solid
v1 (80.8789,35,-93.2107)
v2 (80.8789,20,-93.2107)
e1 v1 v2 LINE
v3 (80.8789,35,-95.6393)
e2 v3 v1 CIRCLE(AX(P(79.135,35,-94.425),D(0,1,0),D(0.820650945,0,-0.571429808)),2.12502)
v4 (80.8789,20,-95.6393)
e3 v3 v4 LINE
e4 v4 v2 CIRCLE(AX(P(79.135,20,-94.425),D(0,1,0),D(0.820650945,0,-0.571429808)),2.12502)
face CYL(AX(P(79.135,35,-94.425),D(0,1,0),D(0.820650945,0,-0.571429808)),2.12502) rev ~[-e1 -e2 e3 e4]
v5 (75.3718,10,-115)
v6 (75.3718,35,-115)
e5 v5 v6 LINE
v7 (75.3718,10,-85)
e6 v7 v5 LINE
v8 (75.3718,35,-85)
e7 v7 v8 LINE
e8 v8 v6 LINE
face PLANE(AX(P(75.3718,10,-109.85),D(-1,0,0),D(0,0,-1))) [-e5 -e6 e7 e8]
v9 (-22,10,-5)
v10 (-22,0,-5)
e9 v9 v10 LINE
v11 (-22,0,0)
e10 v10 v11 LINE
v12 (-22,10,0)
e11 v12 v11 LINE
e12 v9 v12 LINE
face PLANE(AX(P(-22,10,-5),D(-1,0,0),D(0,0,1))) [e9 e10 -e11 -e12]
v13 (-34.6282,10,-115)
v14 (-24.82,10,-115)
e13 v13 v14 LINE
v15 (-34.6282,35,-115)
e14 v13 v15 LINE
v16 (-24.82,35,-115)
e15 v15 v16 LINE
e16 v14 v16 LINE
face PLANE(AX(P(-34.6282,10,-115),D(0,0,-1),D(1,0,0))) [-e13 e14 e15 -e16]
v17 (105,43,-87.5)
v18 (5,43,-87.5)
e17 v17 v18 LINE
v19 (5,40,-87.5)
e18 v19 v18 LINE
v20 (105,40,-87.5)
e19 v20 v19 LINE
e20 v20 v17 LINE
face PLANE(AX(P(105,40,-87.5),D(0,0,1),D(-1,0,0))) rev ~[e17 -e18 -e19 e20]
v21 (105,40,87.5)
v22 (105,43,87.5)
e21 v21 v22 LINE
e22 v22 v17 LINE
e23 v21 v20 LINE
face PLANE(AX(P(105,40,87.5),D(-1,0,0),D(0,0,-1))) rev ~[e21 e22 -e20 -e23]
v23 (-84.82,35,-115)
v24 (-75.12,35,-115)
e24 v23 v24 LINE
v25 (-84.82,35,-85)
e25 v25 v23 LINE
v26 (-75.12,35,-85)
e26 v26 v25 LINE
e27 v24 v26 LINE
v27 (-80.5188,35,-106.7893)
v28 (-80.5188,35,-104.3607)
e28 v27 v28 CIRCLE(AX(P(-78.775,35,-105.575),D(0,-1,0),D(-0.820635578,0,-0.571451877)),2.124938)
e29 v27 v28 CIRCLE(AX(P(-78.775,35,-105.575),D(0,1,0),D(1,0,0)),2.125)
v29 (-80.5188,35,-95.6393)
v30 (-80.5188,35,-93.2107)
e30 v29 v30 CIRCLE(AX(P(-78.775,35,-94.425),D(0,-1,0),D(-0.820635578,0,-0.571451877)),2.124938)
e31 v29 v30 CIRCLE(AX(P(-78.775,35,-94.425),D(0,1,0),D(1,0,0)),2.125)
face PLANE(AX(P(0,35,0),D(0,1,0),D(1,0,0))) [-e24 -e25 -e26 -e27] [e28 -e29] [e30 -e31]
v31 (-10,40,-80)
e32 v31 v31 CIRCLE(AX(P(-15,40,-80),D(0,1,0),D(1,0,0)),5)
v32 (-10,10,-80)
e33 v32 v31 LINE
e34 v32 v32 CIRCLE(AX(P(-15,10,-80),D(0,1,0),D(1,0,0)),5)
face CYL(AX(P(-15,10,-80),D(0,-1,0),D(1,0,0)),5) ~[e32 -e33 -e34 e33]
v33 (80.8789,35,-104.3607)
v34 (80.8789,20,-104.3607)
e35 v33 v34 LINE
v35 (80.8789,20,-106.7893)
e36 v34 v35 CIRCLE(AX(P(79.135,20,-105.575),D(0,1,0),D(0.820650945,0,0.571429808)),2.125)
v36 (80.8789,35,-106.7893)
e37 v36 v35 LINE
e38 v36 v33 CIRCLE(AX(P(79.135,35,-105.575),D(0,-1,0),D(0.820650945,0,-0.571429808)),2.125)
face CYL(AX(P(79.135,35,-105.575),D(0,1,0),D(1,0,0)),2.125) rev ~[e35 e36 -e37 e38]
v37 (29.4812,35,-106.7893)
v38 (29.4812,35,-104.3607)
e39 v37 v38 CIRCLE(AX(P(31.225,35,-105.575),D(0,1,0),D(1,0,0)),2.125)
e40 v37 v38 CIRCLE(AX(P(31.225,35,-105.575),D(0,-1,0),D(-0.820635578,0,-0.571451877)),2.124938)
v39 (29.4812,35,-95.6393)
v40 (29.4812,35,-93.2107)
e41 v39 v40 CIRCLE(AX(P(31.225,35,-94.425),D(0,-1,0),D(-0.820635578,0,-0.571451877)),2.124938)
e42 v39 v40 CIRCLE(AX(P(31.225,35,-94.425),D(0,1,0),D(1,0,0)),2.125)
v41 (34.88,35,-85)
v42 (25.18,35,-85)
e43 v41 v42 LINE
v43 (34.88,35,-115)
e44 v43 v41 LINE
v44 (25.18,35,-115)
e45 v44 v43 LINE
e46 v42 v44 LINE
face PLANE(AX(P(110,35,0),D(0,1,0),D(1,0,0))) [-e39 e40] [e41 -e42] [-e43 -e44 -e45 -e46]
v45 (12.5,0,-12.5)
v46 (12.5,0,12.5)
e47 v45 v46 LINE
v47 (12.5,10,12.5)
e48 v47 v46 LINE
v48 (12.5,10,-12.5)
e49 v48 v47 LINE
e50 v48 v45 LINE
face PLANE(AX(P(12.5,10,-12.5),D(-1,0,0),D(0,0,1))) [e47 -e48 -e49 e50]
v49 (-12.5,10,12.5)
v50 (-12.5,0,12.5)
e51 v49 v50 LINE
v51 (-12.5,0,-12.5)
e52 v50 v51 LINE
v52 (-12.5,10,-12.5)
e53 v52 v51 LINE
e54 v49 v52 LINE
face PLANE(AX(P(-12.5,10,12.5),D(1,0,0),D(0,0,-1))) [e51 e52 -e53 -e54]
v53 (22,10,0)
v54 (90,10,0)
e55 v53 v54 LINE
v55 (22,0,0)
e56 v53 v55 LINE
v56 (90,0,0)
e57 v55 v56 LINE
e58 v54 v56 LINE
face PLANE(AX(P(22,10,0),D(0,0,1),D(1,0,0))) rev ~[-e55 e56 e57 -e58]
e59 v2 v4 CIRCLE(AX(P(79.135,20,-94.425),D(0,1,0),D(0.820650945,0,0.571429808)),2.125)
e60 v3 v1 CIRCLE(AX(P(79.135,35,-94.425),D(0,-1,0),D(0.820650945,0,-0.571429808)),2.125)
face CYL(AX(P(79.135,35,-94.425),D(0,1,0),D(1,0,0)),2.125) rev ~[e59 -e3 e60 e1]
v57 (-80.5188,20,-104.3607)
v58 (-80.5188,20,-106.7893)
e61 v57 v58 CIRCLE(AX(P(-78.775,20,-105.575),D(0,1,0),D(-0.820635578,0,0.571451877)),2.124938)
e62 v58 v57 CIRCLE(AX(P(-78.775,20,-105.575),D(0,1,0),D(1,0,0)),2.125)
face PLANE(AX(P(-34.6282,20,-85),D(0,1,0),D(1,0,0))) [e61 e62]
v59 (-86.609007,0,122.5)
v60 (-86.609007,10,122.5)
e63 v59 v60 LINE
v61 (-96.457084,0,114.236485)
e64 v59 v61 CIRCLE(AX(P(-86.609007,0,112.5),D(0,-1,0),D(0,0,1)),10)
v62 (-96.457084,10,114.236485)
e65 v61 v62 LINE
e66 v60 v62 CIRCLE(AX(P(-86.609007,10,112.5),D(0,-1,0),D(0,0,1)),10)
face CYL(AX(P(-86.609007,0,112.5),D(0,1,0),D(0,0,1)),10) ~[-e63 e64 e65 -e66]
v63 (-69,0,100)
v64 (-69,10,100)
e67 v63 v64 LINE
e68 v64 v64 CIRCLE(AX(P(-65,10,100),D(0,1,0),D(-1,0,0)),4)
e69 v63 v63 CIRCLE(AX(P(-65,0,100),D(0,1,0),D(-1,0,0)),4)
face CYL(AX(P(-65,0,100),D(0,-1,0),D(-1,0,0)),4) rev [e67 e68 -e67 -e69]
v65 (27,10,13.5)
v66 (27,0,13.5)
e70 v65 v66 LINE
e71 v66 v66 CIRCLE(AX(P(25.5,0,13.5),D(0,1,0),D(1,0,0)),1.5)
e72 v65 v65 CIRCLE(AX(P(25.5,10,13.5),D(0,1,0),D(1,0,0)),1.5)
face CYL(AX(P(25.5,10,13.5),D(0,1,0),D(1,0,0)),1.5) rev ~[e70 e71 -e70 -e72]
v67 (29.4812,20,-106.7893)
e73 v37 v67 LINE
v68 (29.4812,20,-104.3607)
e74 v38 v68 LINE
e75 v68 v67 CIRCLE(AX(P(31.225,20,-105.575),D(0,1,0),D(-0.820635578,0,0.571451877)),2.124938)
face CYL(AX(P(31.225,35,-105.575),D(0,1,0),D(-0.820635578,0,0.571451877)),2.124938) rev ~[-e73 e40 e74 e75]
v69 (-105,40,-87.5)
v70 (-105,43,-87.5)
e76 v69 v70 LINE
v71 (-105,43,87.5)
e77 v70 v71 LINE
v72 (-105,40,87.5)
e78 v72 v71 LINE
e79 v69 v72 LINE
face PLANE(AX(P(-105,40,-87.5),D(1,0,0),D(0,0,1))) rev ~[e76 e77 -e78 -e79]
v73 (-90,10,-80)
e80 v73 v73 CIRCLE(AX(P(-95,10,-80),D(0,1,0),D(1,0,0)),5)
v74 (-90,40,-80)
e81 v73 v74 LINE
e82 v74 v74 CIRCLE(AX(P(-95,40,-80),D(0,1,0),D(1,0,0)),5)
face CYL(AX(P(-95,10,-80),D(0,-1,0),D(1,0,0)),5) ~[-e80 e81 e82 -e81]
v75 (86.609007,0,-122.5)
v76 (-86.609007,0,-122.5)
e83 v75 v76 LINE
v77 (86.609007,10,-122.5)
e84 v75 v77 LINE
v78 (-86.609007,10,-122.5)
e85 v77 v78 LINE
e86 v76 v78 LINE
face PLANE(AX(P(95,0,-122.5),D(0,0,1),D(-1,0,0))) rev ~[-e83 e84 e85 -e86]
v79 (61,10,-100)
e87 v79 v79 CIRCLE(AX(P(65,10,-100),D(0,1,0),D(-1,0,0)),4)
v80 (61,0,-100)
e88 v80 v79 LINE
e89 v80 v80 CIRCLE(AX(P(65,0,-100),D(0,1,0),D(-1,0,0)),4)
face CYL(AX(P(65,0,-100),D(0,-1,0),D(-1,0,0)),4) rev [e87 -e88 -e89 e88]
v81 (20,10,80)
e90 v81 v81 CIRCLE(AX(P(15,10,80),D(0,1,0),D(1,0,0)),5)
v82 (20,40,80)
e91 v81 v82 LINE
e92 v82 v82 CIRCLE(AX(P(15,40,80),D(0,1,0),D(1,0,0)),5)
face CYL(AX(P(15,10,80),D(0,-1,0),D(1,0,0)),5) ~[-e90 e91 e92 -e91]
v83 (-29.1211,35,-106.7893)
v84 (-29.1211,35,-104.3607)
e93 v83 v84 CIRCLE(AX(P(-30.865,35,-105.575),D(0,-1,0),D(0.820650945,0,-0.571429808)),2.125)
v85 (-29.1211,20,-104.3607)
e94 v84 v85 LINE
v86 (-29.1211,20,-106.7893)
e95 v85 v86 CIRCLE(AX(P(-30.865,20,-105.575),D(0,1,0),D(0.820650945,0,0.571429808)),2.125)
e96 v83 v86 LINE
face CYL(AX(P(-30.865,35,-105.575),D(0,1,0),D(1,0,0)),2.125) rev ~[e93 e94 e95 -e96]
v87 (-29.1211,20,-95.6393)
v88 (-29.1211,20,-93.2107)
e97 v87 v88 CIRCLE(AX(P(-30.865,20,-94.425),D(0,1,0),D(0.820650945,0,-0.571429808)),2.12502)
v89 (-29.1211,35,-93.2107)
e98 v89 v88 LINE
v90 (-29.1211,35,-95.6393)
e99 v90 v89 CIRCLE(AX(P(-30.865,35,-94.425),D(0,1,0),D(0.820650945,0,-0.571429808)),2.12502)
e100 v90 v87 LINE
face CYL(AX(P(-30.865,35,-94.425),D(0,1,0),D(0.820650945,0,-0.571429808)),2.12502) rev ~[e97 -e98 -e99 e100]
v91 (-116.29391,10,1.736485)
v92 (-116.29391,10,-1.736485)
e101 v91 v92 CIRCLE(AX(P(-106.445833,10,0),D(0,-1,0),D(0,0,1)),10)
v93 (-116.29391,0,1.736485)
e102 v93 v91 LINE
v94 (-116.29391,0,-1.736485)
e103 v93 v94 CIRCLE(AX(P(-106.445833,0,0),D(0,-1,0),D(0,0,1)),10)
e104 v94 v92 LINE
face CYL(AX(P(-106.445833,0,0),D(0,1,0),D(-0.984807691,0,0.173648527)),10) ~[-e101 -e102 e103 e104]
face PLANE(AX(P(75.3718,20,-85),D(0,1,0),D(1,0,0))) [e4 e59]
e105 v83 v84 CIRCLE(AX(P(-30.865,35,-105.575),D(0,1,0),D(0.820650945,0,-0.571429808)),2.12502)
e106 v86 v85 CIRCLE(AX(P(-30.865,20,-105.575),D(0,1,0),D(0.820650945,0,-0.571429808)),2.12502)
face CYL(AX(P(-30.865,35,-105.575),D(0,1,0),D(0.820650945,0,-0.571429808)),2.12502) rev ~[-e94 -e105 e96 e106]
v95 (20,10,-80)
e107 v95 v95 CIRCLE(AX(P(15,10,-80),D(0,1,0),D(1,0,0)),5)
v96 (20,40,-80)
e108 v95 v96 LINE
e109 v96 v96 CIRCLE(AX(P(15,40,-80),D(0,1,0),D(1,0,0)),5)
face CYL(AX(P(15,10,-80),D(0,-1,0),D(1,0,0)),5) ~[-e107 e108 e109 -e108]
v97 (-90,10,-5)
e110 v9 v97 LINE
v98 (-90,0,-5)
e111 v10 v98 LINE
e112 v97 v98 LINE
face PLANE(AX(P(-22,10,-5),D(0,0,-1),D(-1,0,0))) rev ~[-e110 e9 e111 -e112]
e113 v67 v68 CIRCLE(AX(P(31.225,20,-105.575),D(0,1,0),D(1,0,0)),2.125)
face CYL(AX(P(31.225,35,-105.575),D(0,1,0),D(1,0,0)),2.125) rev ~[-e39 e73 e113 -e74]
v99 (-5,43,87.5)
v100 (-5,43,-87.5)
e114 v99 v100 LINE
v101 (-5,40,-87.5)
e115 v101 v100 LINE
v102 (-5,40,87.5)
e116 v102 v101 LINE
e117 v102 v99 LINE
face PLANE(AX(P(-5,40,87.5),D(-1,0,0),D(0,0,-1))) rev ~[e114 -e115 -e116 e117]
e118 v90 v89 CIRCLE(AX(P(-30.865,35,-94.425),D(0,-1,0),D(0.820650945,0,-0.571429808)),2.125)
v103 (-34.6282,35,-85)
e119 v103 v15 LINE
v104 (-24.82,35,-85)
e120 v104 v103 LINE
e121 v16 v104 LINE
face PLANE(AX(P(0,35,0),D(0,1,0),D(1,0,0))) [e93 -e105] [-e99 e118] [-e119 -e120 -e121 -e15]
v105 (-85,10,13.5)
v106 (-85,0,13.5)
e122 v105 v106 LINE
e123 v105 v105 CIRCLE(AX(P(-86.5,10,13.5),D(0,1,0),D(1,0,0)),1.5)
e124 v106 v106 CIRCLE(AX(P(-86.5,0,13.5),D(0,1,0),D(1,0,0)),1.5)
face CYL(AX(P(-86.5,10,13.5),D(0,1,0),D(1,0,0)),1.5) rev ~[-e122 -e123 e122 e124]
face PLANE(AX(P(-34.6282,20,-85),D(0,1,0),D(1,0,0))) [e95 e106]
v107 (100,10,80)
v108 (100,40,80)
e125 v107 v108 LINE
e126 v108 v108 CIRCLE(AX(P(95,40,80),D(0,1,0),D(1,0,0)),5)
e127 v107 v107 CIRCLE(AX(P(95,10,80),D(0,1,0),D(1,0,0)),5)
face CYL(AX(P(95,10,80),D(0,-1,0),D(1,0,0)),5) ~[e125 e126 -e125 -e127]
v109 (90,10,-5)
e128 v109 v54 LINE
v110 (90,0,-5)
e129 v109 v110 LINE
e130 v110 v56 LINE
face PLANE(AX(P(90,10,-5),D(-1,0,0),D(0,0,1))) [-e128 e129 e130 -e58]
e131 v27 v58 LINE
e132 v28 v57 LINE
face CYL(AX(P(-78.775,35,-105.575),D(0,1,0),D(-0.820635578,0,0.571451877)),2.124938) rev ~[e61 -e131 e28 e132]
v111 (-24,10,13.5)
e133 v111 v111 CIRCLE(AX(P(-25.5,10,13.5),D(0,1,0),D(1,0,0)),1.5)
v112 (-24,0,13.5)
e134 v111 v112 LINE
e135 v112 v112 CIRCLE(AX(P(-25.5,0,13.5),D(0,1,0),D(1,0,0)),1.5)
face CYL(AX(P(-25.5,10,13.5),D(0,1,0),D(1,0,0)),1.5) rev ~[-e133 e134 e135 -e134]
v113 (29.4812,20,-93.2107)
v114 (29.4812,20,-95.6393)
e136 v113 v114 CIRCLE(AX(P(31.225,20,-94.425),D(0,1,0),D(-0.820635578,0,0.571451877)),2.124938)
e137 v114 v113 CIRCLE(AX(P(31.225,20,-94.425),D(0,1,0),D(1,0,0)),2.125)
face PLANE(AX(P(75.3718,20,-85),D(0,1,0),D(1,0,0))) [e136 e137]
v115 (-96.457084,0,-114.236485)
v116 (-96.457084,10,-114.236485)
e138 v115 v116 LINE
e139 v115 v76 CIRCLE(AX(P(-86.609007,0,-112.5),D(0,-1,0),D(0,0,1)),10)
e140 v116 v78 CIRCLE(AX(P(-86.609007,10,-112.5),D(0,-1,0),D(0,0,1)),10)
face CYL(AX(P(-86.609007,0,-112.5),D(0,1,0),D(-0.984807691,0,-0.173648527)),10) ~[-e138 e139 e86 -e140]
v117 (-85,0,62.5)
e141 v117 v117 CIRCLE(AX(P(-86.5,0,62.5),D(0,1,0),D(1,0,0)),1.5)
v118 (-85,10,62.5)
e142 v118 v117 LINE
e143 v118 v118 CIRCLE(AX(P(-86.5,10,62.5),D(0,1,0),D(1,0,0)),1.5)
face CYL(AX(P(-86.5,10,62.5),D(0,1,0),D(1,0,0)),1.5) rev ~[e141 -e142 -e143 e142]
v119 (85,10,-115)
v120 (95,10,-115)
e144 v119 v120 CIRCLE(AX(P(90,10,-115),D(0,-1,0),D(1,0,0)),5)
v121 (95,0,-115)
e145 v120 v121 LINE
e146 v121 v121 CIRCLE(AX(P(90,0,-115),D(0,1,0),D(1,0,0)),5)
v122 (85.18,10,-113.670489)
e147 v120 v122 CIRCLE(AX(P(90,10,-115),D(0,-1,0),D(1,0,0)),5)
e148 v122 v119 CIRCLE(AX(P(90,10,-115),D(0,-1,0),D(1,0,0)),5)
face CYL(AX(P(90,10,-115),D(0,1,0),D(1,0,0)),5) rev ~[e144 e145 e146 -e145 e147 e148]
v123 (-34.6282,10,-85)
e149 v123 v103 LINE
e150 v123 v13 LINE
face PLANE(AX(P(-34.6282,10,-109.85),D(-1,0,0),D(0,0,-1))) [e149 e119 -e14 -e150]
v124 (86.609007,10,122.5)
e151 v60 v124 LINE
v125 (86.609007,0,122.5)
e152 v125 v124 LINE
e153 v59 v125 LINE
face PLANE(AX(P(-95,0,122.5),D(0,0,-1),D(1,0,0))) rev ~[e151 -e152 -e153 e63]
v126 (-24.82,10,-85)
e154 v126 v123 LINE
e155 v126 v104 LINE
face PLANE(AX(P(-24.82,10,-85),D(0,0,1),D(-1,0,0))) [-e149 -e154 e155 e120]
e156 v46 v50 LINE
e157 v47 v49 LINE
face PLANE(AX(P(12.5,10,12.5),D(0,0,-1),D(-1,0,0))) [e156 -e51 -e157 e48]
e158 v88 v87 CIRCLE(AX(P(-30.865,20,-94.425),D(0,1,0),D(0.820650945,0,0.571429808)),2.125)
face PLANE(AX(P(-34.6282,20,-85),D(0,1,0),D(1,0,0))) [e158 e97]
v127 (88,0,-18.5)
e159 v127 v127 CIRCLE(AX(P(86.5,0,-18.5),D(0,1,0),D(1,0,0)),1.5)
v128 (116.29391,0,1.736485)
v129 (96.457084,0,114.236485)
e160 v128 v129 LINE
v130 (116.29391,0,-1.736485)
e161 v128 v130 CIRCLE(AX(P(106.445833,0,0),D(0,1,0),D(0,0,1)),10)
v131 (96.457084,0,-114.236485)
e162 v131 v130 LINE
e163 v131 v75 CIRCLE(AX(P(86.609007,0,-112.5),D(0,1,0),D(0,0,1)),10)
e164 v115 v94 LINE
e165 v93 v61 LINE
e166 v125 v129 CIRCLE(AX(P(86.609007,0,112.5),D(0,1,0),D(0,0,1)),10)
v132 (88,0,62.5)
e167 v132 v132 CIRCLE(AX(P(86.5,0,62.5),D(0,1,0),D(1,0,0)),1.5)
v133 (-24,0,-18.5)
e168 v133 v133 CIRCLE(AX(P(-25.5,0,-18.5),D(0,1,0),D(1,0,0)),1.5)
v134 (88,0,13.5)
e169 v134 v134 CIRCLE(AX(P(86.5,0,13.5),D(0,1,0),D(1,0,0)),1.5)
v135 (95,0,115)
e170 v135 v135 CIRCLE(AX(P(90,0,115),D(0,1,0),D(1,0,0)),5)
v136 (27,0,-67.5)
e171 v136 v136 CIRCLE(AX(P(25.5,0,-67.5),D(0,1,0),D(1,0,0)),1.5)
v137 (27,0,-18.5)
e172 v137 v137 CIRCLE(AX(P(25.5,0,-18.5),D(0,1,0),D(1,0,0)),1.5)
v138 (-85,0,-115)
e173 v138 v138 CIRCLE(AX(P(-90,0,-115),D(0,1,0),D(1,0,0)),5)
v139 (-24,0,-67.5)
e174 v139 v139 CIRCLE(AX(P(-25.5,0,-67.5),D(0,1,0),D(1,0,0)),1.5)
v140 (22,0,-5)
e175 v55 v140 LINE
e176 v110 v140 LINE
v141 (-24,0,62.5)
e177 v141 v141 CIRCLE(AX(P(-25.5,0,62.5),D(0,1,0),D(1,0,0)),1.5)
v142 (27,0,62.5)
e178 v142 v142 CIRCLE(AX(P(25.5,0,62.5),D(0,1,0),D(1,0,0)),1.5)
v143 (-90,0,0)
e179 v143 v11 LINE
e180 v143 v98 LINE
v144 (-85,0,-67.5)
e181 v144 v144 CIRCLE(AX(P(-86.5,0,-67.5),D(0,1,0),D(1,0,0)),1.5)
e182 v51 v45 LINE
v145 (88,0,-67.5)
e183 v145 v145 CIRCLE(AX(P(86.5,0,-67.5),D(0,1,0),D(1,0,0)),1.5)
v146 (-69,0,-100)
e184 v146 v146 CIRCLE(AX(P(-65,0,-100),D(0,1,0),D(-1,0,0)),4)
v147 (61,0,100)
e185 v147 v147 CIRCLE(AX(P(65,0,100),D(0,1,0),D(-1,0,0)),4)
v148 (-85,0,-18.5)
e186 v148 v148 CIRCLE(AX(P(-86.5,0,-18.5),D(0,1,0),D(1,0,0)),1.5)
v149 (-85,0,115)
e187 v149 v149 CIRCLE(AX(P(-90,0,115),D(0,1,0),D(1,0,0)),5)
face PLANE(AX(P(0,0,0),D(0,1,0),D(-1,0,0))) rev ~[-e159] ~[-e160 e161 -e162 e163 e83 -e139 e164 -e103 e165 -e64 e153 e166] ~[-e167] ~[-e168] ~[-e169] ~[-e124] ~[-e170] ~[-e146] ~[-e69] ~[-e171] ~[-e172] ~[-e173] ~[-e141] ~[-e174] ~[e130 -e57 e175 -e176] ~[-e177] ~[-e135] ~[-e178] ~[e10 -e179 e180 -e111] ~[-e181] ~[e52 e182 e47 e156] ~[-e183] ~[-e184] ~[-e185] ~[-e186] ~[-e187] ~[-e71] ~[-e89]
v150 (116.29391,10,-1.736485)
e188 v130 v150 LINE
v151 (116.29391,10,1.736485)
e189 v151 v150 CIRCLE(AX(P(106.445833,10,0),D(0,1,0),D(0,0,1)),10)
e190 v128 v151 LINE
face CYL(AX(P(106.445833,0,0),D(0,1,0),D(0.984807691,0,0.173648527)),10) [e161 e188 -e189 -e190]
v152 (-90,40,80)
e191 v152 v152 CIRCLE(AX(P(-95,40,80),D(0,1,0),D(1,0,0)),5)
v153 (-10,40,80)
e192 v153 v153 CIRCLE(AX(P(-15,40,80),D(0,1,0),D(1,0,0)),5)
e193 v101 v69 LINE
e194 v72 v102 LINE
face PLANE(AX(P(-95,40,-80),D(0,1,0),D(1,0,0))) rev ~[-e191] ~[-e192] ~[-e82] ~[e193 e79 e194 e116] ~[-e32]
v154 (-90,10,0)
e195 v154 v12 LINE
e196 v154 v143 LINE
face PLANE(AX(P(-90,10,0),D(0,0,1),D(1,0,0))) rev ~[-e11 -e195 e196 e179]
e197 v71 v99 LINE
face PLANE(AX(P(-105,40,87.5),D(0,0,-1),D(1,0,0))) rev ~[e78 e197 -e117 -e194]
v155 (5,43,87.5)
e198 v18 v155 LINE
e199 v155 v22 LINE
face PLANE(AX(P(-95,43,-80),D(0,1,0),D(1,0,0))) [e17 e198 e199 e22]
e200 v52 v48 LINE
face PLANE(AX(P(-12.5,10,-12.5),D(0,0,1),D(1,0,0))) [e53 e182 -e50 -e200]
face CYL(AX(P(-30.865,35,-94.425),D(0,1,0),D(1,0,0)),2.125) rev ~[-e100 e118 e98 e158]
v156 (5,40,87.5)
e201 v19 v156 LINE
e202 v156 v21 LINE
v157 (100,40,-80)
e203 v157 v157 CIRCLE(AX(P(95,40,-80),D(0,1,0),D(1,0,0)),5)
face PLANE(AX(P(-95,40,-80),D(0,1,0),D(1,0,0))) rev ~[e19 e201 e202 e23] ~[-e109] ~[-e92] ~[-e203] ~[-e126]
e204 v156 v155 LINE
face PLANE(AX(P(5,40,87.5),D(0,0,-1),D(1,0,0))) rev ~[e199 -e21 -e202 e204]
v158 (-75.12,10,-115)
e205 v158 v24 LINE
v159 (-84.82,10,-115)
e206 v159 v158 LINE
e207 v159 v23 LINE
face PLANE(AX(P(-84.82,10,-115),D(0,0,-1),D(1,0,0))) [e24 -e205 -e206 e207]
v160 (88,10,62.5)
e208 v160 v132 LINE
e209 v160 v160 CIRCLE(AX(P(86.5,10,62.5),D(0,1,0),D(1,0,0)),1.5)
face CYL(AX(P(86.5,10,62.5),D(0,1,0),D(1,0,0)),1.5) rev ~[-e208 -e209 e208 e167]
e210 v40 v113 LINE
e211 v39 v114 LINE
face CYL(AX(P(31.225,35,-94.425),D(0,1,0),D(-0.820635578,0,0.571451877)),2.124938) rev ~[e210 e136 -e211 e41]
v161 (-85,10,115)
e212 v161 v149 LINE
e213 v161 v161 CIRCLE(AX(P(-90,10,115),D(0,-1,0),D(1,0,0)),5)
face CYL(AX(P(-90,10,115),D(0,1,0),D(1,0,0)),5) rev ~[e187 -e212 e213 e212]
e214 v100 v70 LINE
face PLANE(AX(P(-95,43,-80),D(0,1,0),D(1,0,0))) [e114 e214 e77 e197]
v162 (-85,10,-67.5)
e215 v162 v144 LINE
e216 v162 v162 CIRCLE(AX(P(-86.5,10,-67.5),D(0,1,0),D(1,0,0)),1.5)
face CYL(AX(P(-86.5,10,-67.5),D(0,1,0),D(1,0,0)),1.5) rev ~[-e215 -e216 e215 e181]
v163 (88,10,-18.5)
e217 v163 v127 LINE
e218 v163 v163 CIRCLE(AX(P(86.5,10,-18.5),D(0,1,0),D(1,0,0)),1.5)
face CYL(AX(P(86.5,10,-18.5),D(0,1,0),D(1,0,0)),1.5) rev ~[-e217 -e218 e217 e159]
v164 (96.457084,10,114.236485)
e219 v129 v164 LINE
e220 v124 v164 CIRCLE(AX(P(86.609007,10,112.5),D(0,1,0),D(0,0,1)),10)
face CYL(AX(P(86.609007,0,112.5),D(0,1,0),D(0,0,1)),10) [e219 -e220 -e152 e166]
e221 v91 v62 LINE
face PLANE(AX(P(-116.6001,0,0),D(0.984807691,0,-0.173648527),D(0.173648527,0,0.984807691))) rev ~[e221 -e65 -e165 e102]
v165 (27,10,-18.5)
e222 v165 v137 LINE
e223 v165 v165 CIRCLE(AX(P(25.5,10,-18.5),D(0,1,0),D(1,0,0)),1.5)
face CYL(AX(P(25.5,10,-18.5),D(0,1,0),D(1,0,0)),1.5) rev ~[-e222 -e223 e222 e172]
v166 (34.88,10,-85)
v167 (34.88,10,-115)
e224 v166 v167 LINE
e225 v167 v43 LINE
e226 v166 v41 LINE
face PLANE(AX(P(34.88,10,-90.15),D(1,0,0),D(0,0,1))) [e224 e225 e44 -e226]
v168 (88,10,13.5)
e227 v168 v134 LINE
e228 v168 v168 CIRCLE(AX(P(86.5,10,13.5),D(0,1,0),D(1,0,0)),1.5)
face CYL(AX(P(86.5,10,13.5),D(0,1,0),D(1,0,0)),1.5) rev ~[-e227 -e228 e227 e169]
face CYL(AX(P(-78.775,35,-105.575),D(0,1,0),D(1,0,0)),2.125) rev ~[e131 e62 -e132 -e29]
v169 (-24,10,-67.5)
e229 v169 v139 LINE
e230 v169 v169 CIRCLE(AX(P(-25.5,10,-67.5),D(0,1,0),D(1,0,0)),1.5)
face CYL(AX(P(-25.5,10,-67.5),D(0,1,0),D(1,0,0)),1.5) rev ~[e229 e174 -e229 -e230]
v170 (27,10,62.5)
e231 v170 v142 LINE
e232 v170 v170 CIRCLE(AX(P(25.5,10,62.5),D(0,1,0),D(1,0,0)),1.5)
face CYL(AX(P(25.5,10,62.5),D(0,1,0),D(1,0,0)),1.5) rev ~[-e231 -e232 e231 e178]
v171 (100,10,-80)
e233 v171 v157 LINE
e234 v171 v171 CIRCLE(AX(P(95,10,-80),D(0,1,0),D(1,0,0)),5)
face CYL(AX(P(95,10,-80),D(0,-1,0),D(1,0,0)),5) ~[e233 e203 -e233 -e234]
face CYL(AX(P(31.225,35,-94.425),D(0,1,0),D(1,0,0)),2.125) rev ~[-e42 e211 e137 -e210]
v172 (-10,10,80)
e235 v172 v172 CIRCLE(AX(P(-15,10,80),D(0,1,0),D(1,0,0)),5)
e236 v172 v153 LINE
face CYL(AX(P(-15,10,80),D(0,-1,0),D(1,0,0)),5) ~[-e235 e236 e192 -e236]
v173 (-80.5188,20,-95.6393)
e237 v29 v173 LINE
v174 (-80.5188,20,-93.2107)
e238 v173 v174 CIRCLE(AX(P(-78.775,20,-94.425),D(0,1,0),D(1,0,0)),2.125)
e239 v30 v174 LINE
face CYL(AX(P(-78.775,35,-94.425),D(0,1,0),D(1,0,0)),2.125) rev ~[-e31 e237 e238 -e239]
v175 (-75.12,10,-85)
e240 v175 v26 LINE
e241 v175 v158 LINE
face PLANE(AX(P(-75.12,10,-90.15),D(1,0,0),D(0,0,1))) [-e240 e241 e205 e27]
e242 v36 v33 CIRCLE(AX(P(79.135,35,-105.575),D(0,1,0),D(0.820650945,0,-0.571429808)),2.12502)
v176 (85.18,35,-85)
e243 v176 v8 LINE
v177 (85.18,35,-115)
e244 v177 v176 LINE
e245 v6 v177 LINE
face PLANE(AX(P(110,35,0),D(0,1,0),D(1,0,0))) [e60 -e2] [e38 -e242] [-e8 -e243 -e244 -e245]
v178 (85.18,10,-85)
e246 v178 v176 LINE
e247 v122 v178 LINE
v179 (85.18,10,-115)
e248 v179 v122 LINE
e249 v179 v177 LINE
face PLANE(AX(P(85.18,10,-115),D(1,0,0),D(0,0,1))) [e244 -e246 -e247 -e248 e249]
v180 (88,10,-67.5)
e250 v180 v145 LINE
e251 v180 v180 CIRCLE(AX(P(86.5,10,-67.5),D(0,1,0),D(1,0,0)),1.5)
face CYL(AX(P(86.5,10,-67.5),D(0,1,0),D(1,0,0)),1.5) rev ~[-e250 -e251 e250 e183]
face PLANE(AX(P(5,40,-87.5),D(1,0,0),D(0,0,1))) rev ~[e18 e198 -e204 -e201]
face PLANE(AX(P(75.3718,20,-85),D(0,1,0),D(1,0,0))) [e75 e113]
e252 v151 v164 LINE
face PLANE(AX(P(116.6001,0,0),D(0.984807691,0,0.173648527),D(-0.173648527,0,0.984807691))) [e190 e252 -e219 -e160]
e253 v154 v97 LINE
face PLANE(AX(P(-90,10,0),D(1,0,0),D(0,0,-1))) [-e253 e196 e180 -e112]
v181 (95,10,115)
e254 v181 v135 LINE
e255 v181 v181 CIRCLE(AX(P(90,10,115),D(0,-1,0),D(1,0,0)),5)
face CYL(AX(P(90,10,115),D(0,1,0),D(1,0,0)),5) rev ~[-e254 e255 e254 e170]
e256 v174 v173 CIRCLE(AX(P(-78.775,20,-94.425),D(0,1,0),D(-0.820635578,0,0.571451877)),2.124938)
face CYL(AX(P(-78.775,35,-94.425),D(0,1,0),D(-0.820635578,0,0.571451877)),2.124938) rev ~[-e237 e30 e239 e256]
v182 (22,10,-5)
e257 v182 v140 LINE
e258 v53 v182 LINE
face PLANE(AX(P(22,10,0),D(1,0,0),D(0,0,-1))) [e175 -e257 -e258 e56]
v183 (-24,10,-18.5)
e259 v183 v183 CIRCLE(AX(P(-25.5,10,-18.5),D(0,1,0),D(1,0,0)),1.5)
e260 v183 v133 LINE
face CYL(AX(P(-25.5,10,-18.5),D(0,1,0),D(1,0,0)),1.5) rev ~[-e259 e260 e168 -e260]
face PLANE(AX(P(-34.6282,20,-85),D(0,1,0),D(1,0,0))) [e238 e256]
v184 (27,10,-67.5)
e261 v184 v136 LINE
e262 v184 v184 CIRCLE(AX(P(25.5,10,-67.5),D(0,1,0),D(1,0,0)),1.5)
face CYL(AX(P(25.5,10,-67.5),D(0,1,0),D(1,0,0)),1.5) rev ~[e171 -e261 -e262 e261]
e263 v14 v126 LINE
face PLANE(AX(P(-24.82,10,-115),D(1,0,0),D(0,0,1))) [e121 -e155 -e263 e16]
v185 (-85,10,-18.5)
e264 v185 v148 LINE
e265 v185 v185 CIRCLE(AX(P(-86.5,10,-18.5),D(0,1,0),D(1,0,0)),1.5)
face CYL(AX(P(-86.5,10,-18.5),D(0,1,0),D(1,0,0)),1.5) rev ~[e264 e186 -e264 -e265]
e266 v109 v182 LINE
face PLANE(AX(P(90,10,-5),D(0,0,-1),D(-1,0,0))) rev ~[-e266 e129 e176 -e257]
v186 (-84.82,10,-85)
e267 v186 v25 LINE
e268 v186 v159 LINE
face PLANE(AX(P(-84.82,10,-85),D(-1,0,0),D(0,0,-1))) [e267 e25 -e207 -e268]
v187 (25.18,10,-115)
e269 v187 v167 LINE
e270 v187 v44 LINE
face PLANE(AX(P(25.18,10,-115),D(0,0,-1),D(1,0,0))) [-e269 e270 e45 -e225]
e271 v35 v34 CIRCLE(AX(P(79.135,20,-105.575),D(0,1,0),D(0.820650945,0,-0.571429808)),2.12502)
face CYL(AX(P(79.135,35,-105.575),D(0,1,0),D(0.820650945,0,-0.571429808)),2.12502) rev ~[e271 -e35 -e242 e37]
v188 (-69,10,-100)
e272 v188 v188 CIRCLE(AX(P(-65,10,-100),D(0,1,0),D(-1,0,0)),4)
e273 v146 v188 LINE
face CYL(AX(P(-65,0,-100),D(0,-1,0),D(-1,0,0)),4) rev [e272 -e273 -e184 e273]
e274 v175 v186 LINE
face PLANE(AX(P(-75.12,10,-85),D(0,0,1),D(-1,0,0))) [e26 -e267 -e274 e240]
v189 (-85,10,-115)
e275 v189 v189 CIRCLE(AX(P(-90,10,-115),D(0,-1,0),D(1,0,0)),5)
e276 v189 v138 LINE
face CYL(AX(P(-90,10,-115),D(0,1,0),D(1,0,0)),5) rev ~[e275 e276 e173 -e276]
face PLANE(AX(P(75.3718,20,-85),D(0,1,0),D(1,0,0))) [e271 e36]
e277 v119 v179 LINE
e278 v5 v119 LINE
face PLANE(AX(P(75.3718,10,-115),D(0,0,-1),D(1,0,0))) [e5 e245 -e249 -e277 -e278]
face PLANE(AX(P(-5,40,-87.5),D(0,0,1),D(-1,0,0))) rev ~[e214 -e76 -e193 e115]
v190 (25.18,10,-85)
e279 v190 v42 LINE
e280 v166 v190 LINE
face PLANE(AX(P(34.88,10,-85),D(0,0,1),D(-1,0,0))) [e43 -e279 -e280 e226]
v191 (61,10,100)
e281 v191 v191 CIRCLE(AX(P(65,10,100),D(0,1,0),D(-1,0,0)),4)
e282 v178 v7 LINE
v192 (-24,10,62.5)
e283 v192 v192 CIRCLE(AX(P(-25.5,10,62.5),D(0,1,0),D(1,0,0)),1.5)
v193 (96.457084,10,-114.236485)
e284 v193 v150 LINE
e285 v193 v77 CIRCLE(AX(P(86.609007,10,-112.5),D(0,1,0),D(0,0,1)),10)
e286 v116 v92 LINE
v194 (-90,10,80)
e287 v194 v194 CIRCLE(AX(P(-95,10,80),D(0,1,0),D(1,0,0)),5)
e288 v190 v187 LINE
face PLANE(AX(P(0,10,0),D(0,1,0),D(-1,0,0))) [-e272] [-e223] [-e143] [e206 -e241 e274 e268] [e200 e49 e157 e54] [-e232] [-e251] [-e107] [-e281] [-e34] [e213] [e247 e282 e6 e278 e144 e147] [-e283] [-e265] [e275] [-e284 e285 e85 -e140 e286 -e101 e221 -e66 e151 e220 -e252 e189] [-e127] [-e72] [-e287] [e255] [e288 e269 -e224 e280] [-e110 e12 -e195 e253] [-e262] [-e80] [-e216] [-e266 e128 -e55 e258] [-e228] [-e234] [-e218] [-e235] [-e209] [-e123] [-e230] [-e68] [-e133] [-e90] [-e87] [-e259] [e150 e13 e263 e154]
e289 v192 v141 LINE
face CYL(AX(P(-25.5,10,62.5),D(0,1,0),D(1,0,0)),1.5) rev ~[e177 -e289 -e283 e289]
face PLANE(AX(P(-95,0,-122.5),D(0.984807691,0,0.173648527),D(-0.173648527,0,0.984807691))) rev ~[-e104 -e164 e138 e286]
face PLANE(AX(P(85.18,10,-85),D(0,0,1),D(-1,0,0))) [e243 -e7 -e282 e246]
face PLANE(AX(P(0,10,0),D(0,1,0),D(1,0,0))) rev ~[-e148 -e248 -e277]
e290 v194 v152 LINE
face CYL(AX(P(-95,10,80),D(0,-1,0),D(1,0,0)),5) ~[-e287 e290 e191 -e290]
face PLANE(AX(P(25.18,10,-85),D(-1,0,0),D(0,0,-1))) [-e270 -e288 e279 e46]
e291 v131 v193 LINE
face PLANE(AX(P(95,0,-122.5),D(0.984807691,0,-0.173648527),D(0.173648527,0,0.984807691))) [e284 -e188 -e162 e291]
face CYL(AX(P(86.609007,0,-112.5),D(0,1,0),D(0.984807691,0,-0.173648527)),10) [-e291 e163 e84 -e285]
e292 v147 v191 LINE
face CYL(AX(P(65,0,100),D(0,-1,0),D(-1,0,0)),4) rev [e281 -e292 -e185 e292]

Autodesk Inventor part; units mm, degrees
ref_plane "YZ Plane" through (0, 0, 0) normal (1, 0, 0) x (0, 1, 0)
sketch "Sketch1" plane through (0, 0, 0) normal (0, 1, 0) x (-1, 0, 0)
  line L0 (-65, 100) -> (65, 100) construction
  line L1 (65, 100) -> (65, -100) construction
  line L2 (65, -100) -> (-65, -100) construction
  line L3 (-65, -100) -> (-65, 100) construction
  line L4 (-65, 100) -> (65, -100) construction
  line L5 (65, 100) -> (-65, -100) construction
  line L6 (45, 110) -> (85, 110) construction
  line L7 (85, 110) -> (85, 90)
  line L8 (85, 90) -> (45, 90) construction
  line L9 (45, 90) -> (45, 110) construction
  line L10 (45, 110) -> (85, 90) construction
  line L11 (85, 110) -> (45, 90) construction
  line L12 (85, -90) -> (85, -110) construction
  line L13 (45, -90) -> (85, -90) construction
  line L14 (45, -110) -> (45, -90) construction
  line L15 (85, -110) -> (45, -110) construction
  line L16 (-45, 110) -> (-45, 90) construction
  line L17 (-85, 110) -> (-45, 110) construction
  line L18 (-85, 90) -> (-85, 110) construction
  line L19 (-45, 90) -> (-85, 90) construction
  line L20 (-45, -90) -> (-45, -110) construction
  line L21 (-85, -90) -> (-45, -90) construction
  line L22 (-85, -110) -> (-85, -90) construction
  line L23 (-45, -110) -> (-85, -110) construction
  line L24 (-95, -122.5) -> (95, -122.5)
  line L25 (95, -122.5) -> (95, 122.5)
  line L26 (95, 122.5) -> (-95, 122.5)
  line L27 (-95, 122.5) -> (-95, -122.5)
  line L28 (-95, -122.5) -> (95, 122.5) construction
  line L29 (95, -122.5) -> (-95, 122.5) construction
  line L30 (95, 122.5) -> (95, 72.5)
  line L31 (95, 72.5) -> (45, 72.5)
  line L32 (45, 72.5) -> (45, -72.5)
  line L33 (45, -72.5) -> (95, -72.5)
  line L34 (95, -72.5) -> (95, -122.5)
  line L35 (0, 122.5) -> (0, -122.5) construction
  line L36 (-65, 100) -> (-65, -100) construction
  line L37 (-95, -122.5) -> (-95, 122.5)
  line L38 (-95, 72.5) -> (-45, 72.5)
  line L39 (-45, 72.5) -> (-45, -72.5)
  line L40 (-45, -72.5) -> (-95, -72.5)
  line L41 (-95, -72.5) -> (-95, -122.5)
  circle A0 centre (-65, 100) radius 4
  circle A1 centre (-65, -100) radius 4
  circle A2 centre (65, 100) radius 4
  circle A3 centre (65, -100) radius 4
  line L42 (95, -122.5) -> (116.6001, 0)
  line L43 (95, -122.5) -> (219.3898, -122.5) construction
  line L44 (116.6001, 0) -> (95, 122.5)
  line L45 (-95, -122.5) -> (-116.6001, 0)
  line L46 (-116.6001, 0) -> (-95, 122.5)
  point P0 (0, 0)
  dimension "d0" = 130
  dimension "d1" = 200
  dimension "d2" = 40
  dimension "d3" = 20
  dimension "d6" = 200
  dimension "d9" = 130
  dimension "d12" = 190
  dimension "d13" = 245
  dimension "d14" = 50
  dimension "d15" = 50
  dimension "d16" = 90
  dimension "d17" = 145
  dimension "d18" = 90
  dimension "d19" = 8
  dimension "d22" = 200
  dimension "d25" = 130
  dimension "d125" = 80
extrude "Extrusion1" add sketch "Sketch1" along normal blind 10
ref_plane "Work Plane1" through (-81.8523, 27.75, -99.4789) normal (0, -1, 0) x (1, 0, 0)
sketch "Sketch5" plane through (0, 10, 0) normal (0, 1, 0) x (1, 0, 0)
  circle A0 centre (-25.5, 67.5) radius 1.5 projected
  circle A1 centre (-86.5, 67.5) radius 1.5 projected
  circle A2 centre (-25.5, 18.5) radius 1.5 projected
  circle A3 centre (-86.5, 18.5) radius 1.5 projected
  line L0 (-22, 71) -> (-22, 15) projected
  line L1 (-90, 71) -> (-22, 71) projected
  line L2 (-90, 15) -> (-90, 71) projected
  line L3 (-22, 15) -> (-90, 15) projected
  line L4 (-22, 15) -> (-90, 15) projected
  line L5 (-90, 15) -> (-90, 5) projected
  line L6 (-22, 5) -> (-90, 5) projected
  line L7 (-22, 15) -> (-22, 5) projected
  circle A4 centre (86.5, 67.5) radius 1.5 projected
  circle A5 centre (25.5, 67.5) radius 1.5 projected
  circle A6 centre (86.5, 18.5) radius 1.5 projected
  circle A7 centre (25.5, 18.5) radius 1.5 projected
  line L8 (90, 71) -> (90, 15) projected
  line L9 (22, 71) -> (90, 71) projected
  line L10 (22, 15) -> (22, 71) projected
  line L11 (90, 15) -> (22, 15) projected
  line L12 (90, 15) -> (22, 15) projected
  line L13 (22, 15) -> (22, 5) projected
  line L14 (90, 5) -> (22, 5) projected
  line L15 (90, 15) -> (90, 5) projected
  circle A8 centre (25.5, -62.5) radius 1.5 projected
  circle A9 centre (86.5, -62.5) radius 1.5 projected
  circle A10 centre (25.5, -13.5) radius 1.5 projected
  circle A11 centre (86.5, -13.5) radius 1.5 projected
  line L16 (22, -66) -> (22, -10) projected
  line L17 (90, -66) -> (22, -66) projected
  line L18 (90, -10) -> (90, -66) projected
  line L19 (22, -10) -> (90, -10) projected
  line L20 (22, -10) -> (90, -10) projected
  line L21 (90, -10) -> (90, 0) projected
  line L22 (22, 0) -> (90, 0) projected
  line L23 (22, -10) -> (22, 0) projected
  circle A12 centre (-86.5, -62.5) radius 1.5 projected
  circle A13 centre (-25.5, -62.5) radius 1.5 projected
  circle A14 centre (-86.5, -13.5) radius 1.5 projected
  circle A15 centre (-25.5, -13.5) radius 1.5 projected
  line L24 (-90, -66) -> (-90, -10) projected
  line L25 (-22, -66) -> (-90, -66) projected
  line L26 (-22, -10) -> (-22, -66) projected
  line L27 (-90, -10) -> (-22, -10) projected
  line L28 (-90, -10) -> (-22, -10) projected
  line L29 (-22, -10) -> (-22, 0) projected
  line L30 (-90, 0) -> (-22, 0) projected
  line L31 (-90, -10) -> (-90, 0) projected
  line L32 (-90, 5) -> (-22, 5)
  line L33 (-22, 5) -> (-22, 0)
  line L34 (-22, 0) -> (-90, 0)
  line L35 (-90, 0) -> (-90, 5)
  line L36 (22, 5) -> (90, 5)
  line L37 (90, 5) -> (90, 0)
  line L38 (90, 0) -> (22, 0)
  line L39 (22, 0) -> (22, 5)
  point P0 (0, 0)
extrude "Extrusion5" cut sketch "Sketch5" against normal through all contours A0 | A1 | A2 | A3 | L33 L30 L35 L6 | A4 | A5 | A6 | A7 | L37 L22 L39 L14 | A8 | A9 | A10 | A11 | A12 | A13 | A14 | A15
sketch "Sketch6" plane through (0, 10, 0) normal (0, 1, 0) x (1, 0, 0)
  line L0 (12.5, -12.5) -> (-12.5, -12.5)
  line L1 (-12.5, -12.5) -> (-12.5, 12.5)
  line L2 (-12.5, 12.5) -> (12.5, 12.5)
  line L3 (12.5, 12.5) -> (12.5, -12.5)
  line L4 (12.5, -12.5) -> (-12.5, 12.5) construction
  line L5 (-12.5, -12.5) -> (12.5, 12.5) construction
  point P0 (0, 0)
  dimension "d51" = 25
  dimension "d52" = 25
extrude "Extrusion6" cut sketch "Sketch6" against normal through all
fillet "Fillet3" radius 10 6 edges at (95, 5, 122.5) (116.6001, 5, 0) (95, 5, -122.5) (-95, 5, 122.5) (-116.6001, 5, 0) (-95, 5, -122.5)
ref_plane "Work Plane4" through (-81.8523, 35, -99.4789) normal (0, -1, 0) x (1, 0, 0)
sketch "Sketch2" plane through (0, 10, 0) normal (0, 1, 0) x (1, 0, 0)
  arc A0 (-80.6174, 104.2921) -> (-80.6174, 106.8579) centre (-78.775, 105.575) ccw
  arc A1 (-80.5189, 93.2107) -> (-80.5189, 95.6393) centre (-78.775, 94.425) ccw
  arc A2 (-29.1211, 106.7893) -> (-29.1211, 104.3607) centre (-30.865, 105.575) ccw
  arc A3 (-29.1211, 95.6393) -> (-29.1211, 93.2107) centre (-30.865, 94.425) ccw
  line L0 (-78.775, 94.425) -> (-30.865, 105.575) construction
  line L1 (-30.865, 94.425) -> (-78.775, 105.575) construction
  line L2 (-84.82, 115) -> (-24.82, 115) construction
  line L3 (-24.82, 115) -> (-24.82, 85) construction
  line L4 (-24.82, 85) -> (-84.82, 85) construction
  line L5 (-84.82, 85) -> (-84.82, 115) construction
  line L6 (-84.82, 115) -> (-24.82, 85) construction
  line L7 (-24.82, 115) -> (-84.82, 85) construction
  line L8 (-75.0118, 110) -> (-80.8, 110)
  arc A4 (-80.6174, 104.2921) -> (-80.642, 104.305) centre (-80.642, 104.275) ccw
  line L9 (-80.642, 104.305) -> (-81.85, 104.305)
  line L10 (-81.85, 104.305) -> (-81.85, 95.695)
  line L11 (-81.85, 95.695) -> (-80.6625, 95.695)
  arc A5 (-76.5, 94.425) -> (-80.6625, 95.695) centre (-78.775, 94.425) ccw
  arc A6 (-80.6625, 93.155) -> (-76.5, 94.425) centre (-78.775, 94.425) ccw
  line L12 (-80.6625, 93.155) -> (-81.85, 93.155)
  line L13 (-81.85, 93.155) -> (-81.85, 91.2)
  arc A7 (-81.85, 91.2) -> (-80.8, 90.15) centre (-80.8, 91.2) ccw
  line L14 (-80.8, 90.15) -> (-75.0119, 90.15)
  arc A8 (-75.12, 90.5) -> (-75.0118, 90.15) centre (-74.5, 90.5) ccw
  line L15 (-75.12, 90.5) -> (-75.12, 109.5)
  arc A9 (-75.0118, 109.85) -> (-75.12, 109.5) centre (-74.5, 109.5) ccw
  line L16 (-75.0118, 109.85) -> (-80.8, 109.85)
  arc A10 (-80.8, 109.85) -> (-81.85, 108.8) centre (-80.8, 108.8) ccw
  line L17 (-81.85, 108.8) -> (-81.85, 106.845)
  line L18 (-81.85, 106.845) -> (-80.642, 106.845)
  arc A11 (-80.642, 106.845) -> (-80.6174, 106.8579) centre (-80.642, 106.875) ccw
  arc A12 (-80.6174, 104.2921) -> (-80.6174, 106.8579) centre (-78.775, 105.575) ccw
  line L19 (-27.79, 106.845) -> (-27.79, 108.8)
  arc A13 (-27.79, 108.8) -> (-28.84, 109.85) centre (-28.84, 108.8) ccw
  line L20 (-28.84, 109.85) -> (-34.6281, 109.85)
  arc A14 (-34.52, 109.5) -> (-34.6282, 109.8499) centre (-35.14, 109.5) ccw
  line L21 (-34.52, 109.5) -> (-34.52, 90.5)
  arc A15 (-34.6282, 90.15) -> (-34.52, 90.5) centre (-35.14, 90.5) ccw
  line L22 (-34.6282, 90.15) -> (-28.84, 90.15)
  arc A16 (-28.84, 90.15) -> (-27.79, 91.2) centre (-28.84, 91.2) ccw
  line L23 (-27.79, 91.2) -> (-27.79, 93.155)
  line L24 (-27.79, 93.155) -> (-28.998, 93.155)
  arc A17 (-28.998, 93.155) -> (-29.0226, 93.1421) centre (-28.998, 93.125) ccw
  arc A18 (-29.0226, 95.7079) -> (-29.0226, 93.1421) centre (-30.865, 94.425) ccw
  arc A19 (-29.0226, 95.7079) -> (-28.998, 95.695) centre (-28.998, 95.725) ccw
  line L25 (-28.998, 95.695) -> (-27.79, 95.695)
  line L26 (-27.79, 95.695) -> (-27.79, 104.305)
  line L27 (-27.79, 104.305) -> (-28.998, 104.305)
  arc A20 (-28.998, 104.305) -> (-29.0226, 104.2921) centre (-28.998, 104.275) ccw
  arc A21 (-29.0226, 106.8579) -> (-29.0226, 104.2921) centre (-30.865, 105.575) ccw
  arc A22 (-29.0226, 106.8579) -> (-28.998, 106.845) centre (-28.998, 106.875) ccw
  line L28 (-28.998, 106.845) -> (-27.79, 106.845)
  line L29 (-84.82, 115) -> (-75.12, 115)
  line L30 (-75.12, 115) -> (-75.12, 85)
  line L31 (-75.12, 85) -> (-84.82, 85)
  line L32 (-84.82, 85) -> (-84.82, 115)
  line L33 (-24.82, 85) -> (-34.6282, 85)
  line L34 (-34.6282, 85) -> (-34.6282, 115)
  line L35 (-34.6282, 115) -> (-24.82, 115)
  line L36 (-24.82, 115) -> (-24.82, 85)
  point P0 (0, 0)
  point P1 (-54.82, 100)
extrude "Extrusion14" add sketch "Sketch2" along normal up to surface (25 mm away) contours A4 L9 L10 L11 A5 A6 L12 L13 A7 L14 L30 L31 L32 L29 L16 A10 L17 L18 A11 A0 | A0 A11 L18 L17 A10 L16 L30 L15 L14 A7 L13 L12 A6 A5 L11 L10 L9 A4 | L28 A22 A21 A20 L27 L26 L25 A19 A18 A17 L24 L23 A16 L22 A15 L21 A14 L20 A13 L19 | L19 A13 L20 L34 L35 L36 L33 L22 A16 L23 L24 A17 A18 A19 L25 L26 L27 A20 A21 A22 L28 | A14 L21 A15 L34
sketch "Sketch15" plane through (-34.6282, 35, -85) normal (0, 1, 0) x (1, 0, 0)
  arc A0 (5.5071, 21.7893) -> (5.5071, 19.3607) centre (3.7632, 20.575) ccw projected
  arc A1 (5.5071, 10.6393) -> (5.5071, 8.2107) centre (3.7632, 9.425) ccw projected
  arc A2 (-45.8906, 19.3607) -> (-45.8906, 21.7893) centre (-44.1468, 20.575) ccw projected
  arc A3 (-45.8906, 8.2107) -> (-45.8906, 10.6393) centre (-44.1468, 9.425) ccw projected
  circle A4 centre (-44.1468, 20.575) radius 2.125
  circle A5 centre (-44.1468, 9.425) radius 2.125
  circle A6 centre (3.7632, 20.575) radius 2.125
  circle A7 centre (3.7632, 9.425) radius 2.125
  point P0 (34.6282, -85)
  point P1 (-45.8906, 10.6393)
  point P2 (-45.8906, 8.2107)
  point P3 (-45.8906, 21.7893)
  point P4 (-45.8906, 19.3607)
  point P5 (5.5071, 10.6393)
  point P6 (5.5071, 21.7893)
extrude "Extrusion15" cut sketch "Sketch15" against normal blind 15
pattern_linear "Rectangular Pattern7" count 2 spacing 110 along (1, 0, 0) of "Extrusion14", "Extrusion15"
sketch "Sketch16" plane through (0, 10, 0) normal (0, 1, 0) x (1, 0, 0)
  line L0 (95, 80) -> (-95, 80) construction
  line L1 (-95, 80) -> (-95, -80) construction
  line L2 (-95, -80) -> (95, -80) construction
  line L3 (95, -80) -> (95, 80) construction
  line L4 (95, 80) -> (-95, -80) construction
  line L5 (-95, 80) -> (95, -80) construction
  line L6 (-95, 80) -> (-15, 80) construction
  line L7 (-15, 80) -> (-15, -95) construction
  line L8 (-15, -95) -> (-95, -95) construction
  line L9 (-95, -95) -> (-95, 80) construction
  line L10 (95, 80) -> (15, 80) construction
  line L11 (15, 80) -> (15, -80) construction
  line L12 (15, -80) -> (95, -80) construction
  line L13 (95, -80) -> (95, 80) construction
  line L14 (-84.82, 115) -> (-84.82, 85) construction
  circle A0 centre (-78.775, 105.575) radius 2.125 construction
  circle A1 centre (-78.775, 94.425) radius 2.125 construction
  line L15 (-84.82, 85) -> (-75.12, 85) construction
  line L16 (-75.12, 85) -> (-75.12, 115) construction
  line L17 (-75.12, 115) -> (-84.82, 115) construction
  line L18 (-84.82, 115) -> (-84.82, 85) construction
  circle A2 centre (15, 80) radius 5
  circle A3 centre (95, 80) radius 5
  circle A4 centre (95, -80) radius 5
  circle A5 centre (15, -80) radius 5
  circle A6 centre (-95, -80) radius 5
  circle A7 centre (-15, -80) radius 5
  circle A8 centre (-15, 80) radius 5
  circle A9 centre (-95, 80) radius 5
  point P0 (0, 0)
  dimension "d137" = 190
  dimension "d138" = 160
  dimension "d139" = 80
  dimension "d140" = 175
  dimension "d141" = 80
  dimension "d142" = 10
  dimension "d143" = 10
  dimension "d144" = 10
  dimension "d145" = 10
  dimension "d146" = 10
  dimension "d147" = 10
  dimension "d148" = 10
  dimension "d149" = 10
extrude "Extrusion16" add sketch "Sketch16" along normal blind 30
sketch "Sketch17" plane through (-95, 40, -80) normal (0, 1, 0) x (1, 0, 0)
  circle A0 centre (0, 0) radius 5 projected
  circle A1 centre (190, 0) radius 5 projected
  circle A2 centre (190, -160) radius 5 projected
  circle A3 centre (110, -160) radius 5 projected
  circle A4 centre (0, -160) radius 5 projected
  circle A5 centre (80, -160) radius 5 projected
  circle A6 centre (80, 0) radius 5 projected
  circle A7 centre (110, 0) radius 5 projected
  line L0 (0, 0) -> (80, -160) construction
  line L1 (80, 0) -> (0, -160) construction
  line L2 (190, -160) -> (110, 0) construction
  line L3 (190, 0) -> (110, -160) construction
  line L4 (-10, -167.5) -> (90, -167.5)
  line L5 (90, -167.5) -> (90, 7.5)
  line L6 (90, 7.5) -> (-10, 7.5)
  line L7 (-10, 7.5) -> (-10, -167.5)
  line L8 (-10, -167.5) -> (90, 7.5) construction
  line L9 (90, -167.5) -> (-10, 7.5) construction
  line L10 (100, -167.5) -> (200, -167.5)
  line L11 (200, -167.5) -> (200, 7.5)
  line L12 (200, 7.5) -> (100, 7.5)
  line L13 (100, 7.5) -> (100, -167.5)
  line L14 (100, -167.5) -> (200, 7.5) construction
  line L15 (200, -167.5) -> (100, 7.5) construction
  point P0 (95, -80)
  point P1 (40, -80)
  point P2 (150, -80)
  dimension "d152" = 100
  dimension "d153" = 175
  dimension "d154" = 100
  dimension "d155" = 175
extrude "Extrusion17" add sketch "Sketch17" along normal blind 3 contours A0 | A1 | A2 | A3 | A4 | A5 | A6 | A7 | L7 L6 L5 L4 | L13 L12 L11 L10
sketch "Sketch18" plane through (0, 10, 0) normal (0, 1, 0) x (1, 0, 0)
  line L0 (90, -115) -> (-90, -115)
  line L1 (-90, -115) -> (-90, 115)
  line L2 (-90, 115) -> (90, 115)
  line L3 (90, 115) -> (90, -115)
  line L4 (90, -115) -> (-90, 115) construction
  line L5 (-90, -115) -> (90, 115) construction
  circle A0 centre (-90, 115) radius 5
  circle A1 centre (90, 115) radius 5
  circle A2 centre (90, -115) radius 5
  circle A3 centre (-90, -115) radius 5
  line L6 (-84.82, 85) -> (-84.82, 115) projected
  line L7 (-84.82, 115) -> (-75.12, 115) projected
  point P0 (0, 0)
  dimension "d158" = 180
  dimension "d159" = 230
  dimension "d160" = 10
  dimension "d161" = 10
  dimension "d162" = 10
  dimension "d163" = 10
extrude "Extrusion18" cut sketch "Sketch18" against normal through all contours A3 L1 L0 | L0 L1 A3 | A2 L3 L0 | L0 L3 A2 | A0 L2 L1 | L1 L2 A0 | A1 L2 L3 | L3 L2 A1
properties part number "base_"
